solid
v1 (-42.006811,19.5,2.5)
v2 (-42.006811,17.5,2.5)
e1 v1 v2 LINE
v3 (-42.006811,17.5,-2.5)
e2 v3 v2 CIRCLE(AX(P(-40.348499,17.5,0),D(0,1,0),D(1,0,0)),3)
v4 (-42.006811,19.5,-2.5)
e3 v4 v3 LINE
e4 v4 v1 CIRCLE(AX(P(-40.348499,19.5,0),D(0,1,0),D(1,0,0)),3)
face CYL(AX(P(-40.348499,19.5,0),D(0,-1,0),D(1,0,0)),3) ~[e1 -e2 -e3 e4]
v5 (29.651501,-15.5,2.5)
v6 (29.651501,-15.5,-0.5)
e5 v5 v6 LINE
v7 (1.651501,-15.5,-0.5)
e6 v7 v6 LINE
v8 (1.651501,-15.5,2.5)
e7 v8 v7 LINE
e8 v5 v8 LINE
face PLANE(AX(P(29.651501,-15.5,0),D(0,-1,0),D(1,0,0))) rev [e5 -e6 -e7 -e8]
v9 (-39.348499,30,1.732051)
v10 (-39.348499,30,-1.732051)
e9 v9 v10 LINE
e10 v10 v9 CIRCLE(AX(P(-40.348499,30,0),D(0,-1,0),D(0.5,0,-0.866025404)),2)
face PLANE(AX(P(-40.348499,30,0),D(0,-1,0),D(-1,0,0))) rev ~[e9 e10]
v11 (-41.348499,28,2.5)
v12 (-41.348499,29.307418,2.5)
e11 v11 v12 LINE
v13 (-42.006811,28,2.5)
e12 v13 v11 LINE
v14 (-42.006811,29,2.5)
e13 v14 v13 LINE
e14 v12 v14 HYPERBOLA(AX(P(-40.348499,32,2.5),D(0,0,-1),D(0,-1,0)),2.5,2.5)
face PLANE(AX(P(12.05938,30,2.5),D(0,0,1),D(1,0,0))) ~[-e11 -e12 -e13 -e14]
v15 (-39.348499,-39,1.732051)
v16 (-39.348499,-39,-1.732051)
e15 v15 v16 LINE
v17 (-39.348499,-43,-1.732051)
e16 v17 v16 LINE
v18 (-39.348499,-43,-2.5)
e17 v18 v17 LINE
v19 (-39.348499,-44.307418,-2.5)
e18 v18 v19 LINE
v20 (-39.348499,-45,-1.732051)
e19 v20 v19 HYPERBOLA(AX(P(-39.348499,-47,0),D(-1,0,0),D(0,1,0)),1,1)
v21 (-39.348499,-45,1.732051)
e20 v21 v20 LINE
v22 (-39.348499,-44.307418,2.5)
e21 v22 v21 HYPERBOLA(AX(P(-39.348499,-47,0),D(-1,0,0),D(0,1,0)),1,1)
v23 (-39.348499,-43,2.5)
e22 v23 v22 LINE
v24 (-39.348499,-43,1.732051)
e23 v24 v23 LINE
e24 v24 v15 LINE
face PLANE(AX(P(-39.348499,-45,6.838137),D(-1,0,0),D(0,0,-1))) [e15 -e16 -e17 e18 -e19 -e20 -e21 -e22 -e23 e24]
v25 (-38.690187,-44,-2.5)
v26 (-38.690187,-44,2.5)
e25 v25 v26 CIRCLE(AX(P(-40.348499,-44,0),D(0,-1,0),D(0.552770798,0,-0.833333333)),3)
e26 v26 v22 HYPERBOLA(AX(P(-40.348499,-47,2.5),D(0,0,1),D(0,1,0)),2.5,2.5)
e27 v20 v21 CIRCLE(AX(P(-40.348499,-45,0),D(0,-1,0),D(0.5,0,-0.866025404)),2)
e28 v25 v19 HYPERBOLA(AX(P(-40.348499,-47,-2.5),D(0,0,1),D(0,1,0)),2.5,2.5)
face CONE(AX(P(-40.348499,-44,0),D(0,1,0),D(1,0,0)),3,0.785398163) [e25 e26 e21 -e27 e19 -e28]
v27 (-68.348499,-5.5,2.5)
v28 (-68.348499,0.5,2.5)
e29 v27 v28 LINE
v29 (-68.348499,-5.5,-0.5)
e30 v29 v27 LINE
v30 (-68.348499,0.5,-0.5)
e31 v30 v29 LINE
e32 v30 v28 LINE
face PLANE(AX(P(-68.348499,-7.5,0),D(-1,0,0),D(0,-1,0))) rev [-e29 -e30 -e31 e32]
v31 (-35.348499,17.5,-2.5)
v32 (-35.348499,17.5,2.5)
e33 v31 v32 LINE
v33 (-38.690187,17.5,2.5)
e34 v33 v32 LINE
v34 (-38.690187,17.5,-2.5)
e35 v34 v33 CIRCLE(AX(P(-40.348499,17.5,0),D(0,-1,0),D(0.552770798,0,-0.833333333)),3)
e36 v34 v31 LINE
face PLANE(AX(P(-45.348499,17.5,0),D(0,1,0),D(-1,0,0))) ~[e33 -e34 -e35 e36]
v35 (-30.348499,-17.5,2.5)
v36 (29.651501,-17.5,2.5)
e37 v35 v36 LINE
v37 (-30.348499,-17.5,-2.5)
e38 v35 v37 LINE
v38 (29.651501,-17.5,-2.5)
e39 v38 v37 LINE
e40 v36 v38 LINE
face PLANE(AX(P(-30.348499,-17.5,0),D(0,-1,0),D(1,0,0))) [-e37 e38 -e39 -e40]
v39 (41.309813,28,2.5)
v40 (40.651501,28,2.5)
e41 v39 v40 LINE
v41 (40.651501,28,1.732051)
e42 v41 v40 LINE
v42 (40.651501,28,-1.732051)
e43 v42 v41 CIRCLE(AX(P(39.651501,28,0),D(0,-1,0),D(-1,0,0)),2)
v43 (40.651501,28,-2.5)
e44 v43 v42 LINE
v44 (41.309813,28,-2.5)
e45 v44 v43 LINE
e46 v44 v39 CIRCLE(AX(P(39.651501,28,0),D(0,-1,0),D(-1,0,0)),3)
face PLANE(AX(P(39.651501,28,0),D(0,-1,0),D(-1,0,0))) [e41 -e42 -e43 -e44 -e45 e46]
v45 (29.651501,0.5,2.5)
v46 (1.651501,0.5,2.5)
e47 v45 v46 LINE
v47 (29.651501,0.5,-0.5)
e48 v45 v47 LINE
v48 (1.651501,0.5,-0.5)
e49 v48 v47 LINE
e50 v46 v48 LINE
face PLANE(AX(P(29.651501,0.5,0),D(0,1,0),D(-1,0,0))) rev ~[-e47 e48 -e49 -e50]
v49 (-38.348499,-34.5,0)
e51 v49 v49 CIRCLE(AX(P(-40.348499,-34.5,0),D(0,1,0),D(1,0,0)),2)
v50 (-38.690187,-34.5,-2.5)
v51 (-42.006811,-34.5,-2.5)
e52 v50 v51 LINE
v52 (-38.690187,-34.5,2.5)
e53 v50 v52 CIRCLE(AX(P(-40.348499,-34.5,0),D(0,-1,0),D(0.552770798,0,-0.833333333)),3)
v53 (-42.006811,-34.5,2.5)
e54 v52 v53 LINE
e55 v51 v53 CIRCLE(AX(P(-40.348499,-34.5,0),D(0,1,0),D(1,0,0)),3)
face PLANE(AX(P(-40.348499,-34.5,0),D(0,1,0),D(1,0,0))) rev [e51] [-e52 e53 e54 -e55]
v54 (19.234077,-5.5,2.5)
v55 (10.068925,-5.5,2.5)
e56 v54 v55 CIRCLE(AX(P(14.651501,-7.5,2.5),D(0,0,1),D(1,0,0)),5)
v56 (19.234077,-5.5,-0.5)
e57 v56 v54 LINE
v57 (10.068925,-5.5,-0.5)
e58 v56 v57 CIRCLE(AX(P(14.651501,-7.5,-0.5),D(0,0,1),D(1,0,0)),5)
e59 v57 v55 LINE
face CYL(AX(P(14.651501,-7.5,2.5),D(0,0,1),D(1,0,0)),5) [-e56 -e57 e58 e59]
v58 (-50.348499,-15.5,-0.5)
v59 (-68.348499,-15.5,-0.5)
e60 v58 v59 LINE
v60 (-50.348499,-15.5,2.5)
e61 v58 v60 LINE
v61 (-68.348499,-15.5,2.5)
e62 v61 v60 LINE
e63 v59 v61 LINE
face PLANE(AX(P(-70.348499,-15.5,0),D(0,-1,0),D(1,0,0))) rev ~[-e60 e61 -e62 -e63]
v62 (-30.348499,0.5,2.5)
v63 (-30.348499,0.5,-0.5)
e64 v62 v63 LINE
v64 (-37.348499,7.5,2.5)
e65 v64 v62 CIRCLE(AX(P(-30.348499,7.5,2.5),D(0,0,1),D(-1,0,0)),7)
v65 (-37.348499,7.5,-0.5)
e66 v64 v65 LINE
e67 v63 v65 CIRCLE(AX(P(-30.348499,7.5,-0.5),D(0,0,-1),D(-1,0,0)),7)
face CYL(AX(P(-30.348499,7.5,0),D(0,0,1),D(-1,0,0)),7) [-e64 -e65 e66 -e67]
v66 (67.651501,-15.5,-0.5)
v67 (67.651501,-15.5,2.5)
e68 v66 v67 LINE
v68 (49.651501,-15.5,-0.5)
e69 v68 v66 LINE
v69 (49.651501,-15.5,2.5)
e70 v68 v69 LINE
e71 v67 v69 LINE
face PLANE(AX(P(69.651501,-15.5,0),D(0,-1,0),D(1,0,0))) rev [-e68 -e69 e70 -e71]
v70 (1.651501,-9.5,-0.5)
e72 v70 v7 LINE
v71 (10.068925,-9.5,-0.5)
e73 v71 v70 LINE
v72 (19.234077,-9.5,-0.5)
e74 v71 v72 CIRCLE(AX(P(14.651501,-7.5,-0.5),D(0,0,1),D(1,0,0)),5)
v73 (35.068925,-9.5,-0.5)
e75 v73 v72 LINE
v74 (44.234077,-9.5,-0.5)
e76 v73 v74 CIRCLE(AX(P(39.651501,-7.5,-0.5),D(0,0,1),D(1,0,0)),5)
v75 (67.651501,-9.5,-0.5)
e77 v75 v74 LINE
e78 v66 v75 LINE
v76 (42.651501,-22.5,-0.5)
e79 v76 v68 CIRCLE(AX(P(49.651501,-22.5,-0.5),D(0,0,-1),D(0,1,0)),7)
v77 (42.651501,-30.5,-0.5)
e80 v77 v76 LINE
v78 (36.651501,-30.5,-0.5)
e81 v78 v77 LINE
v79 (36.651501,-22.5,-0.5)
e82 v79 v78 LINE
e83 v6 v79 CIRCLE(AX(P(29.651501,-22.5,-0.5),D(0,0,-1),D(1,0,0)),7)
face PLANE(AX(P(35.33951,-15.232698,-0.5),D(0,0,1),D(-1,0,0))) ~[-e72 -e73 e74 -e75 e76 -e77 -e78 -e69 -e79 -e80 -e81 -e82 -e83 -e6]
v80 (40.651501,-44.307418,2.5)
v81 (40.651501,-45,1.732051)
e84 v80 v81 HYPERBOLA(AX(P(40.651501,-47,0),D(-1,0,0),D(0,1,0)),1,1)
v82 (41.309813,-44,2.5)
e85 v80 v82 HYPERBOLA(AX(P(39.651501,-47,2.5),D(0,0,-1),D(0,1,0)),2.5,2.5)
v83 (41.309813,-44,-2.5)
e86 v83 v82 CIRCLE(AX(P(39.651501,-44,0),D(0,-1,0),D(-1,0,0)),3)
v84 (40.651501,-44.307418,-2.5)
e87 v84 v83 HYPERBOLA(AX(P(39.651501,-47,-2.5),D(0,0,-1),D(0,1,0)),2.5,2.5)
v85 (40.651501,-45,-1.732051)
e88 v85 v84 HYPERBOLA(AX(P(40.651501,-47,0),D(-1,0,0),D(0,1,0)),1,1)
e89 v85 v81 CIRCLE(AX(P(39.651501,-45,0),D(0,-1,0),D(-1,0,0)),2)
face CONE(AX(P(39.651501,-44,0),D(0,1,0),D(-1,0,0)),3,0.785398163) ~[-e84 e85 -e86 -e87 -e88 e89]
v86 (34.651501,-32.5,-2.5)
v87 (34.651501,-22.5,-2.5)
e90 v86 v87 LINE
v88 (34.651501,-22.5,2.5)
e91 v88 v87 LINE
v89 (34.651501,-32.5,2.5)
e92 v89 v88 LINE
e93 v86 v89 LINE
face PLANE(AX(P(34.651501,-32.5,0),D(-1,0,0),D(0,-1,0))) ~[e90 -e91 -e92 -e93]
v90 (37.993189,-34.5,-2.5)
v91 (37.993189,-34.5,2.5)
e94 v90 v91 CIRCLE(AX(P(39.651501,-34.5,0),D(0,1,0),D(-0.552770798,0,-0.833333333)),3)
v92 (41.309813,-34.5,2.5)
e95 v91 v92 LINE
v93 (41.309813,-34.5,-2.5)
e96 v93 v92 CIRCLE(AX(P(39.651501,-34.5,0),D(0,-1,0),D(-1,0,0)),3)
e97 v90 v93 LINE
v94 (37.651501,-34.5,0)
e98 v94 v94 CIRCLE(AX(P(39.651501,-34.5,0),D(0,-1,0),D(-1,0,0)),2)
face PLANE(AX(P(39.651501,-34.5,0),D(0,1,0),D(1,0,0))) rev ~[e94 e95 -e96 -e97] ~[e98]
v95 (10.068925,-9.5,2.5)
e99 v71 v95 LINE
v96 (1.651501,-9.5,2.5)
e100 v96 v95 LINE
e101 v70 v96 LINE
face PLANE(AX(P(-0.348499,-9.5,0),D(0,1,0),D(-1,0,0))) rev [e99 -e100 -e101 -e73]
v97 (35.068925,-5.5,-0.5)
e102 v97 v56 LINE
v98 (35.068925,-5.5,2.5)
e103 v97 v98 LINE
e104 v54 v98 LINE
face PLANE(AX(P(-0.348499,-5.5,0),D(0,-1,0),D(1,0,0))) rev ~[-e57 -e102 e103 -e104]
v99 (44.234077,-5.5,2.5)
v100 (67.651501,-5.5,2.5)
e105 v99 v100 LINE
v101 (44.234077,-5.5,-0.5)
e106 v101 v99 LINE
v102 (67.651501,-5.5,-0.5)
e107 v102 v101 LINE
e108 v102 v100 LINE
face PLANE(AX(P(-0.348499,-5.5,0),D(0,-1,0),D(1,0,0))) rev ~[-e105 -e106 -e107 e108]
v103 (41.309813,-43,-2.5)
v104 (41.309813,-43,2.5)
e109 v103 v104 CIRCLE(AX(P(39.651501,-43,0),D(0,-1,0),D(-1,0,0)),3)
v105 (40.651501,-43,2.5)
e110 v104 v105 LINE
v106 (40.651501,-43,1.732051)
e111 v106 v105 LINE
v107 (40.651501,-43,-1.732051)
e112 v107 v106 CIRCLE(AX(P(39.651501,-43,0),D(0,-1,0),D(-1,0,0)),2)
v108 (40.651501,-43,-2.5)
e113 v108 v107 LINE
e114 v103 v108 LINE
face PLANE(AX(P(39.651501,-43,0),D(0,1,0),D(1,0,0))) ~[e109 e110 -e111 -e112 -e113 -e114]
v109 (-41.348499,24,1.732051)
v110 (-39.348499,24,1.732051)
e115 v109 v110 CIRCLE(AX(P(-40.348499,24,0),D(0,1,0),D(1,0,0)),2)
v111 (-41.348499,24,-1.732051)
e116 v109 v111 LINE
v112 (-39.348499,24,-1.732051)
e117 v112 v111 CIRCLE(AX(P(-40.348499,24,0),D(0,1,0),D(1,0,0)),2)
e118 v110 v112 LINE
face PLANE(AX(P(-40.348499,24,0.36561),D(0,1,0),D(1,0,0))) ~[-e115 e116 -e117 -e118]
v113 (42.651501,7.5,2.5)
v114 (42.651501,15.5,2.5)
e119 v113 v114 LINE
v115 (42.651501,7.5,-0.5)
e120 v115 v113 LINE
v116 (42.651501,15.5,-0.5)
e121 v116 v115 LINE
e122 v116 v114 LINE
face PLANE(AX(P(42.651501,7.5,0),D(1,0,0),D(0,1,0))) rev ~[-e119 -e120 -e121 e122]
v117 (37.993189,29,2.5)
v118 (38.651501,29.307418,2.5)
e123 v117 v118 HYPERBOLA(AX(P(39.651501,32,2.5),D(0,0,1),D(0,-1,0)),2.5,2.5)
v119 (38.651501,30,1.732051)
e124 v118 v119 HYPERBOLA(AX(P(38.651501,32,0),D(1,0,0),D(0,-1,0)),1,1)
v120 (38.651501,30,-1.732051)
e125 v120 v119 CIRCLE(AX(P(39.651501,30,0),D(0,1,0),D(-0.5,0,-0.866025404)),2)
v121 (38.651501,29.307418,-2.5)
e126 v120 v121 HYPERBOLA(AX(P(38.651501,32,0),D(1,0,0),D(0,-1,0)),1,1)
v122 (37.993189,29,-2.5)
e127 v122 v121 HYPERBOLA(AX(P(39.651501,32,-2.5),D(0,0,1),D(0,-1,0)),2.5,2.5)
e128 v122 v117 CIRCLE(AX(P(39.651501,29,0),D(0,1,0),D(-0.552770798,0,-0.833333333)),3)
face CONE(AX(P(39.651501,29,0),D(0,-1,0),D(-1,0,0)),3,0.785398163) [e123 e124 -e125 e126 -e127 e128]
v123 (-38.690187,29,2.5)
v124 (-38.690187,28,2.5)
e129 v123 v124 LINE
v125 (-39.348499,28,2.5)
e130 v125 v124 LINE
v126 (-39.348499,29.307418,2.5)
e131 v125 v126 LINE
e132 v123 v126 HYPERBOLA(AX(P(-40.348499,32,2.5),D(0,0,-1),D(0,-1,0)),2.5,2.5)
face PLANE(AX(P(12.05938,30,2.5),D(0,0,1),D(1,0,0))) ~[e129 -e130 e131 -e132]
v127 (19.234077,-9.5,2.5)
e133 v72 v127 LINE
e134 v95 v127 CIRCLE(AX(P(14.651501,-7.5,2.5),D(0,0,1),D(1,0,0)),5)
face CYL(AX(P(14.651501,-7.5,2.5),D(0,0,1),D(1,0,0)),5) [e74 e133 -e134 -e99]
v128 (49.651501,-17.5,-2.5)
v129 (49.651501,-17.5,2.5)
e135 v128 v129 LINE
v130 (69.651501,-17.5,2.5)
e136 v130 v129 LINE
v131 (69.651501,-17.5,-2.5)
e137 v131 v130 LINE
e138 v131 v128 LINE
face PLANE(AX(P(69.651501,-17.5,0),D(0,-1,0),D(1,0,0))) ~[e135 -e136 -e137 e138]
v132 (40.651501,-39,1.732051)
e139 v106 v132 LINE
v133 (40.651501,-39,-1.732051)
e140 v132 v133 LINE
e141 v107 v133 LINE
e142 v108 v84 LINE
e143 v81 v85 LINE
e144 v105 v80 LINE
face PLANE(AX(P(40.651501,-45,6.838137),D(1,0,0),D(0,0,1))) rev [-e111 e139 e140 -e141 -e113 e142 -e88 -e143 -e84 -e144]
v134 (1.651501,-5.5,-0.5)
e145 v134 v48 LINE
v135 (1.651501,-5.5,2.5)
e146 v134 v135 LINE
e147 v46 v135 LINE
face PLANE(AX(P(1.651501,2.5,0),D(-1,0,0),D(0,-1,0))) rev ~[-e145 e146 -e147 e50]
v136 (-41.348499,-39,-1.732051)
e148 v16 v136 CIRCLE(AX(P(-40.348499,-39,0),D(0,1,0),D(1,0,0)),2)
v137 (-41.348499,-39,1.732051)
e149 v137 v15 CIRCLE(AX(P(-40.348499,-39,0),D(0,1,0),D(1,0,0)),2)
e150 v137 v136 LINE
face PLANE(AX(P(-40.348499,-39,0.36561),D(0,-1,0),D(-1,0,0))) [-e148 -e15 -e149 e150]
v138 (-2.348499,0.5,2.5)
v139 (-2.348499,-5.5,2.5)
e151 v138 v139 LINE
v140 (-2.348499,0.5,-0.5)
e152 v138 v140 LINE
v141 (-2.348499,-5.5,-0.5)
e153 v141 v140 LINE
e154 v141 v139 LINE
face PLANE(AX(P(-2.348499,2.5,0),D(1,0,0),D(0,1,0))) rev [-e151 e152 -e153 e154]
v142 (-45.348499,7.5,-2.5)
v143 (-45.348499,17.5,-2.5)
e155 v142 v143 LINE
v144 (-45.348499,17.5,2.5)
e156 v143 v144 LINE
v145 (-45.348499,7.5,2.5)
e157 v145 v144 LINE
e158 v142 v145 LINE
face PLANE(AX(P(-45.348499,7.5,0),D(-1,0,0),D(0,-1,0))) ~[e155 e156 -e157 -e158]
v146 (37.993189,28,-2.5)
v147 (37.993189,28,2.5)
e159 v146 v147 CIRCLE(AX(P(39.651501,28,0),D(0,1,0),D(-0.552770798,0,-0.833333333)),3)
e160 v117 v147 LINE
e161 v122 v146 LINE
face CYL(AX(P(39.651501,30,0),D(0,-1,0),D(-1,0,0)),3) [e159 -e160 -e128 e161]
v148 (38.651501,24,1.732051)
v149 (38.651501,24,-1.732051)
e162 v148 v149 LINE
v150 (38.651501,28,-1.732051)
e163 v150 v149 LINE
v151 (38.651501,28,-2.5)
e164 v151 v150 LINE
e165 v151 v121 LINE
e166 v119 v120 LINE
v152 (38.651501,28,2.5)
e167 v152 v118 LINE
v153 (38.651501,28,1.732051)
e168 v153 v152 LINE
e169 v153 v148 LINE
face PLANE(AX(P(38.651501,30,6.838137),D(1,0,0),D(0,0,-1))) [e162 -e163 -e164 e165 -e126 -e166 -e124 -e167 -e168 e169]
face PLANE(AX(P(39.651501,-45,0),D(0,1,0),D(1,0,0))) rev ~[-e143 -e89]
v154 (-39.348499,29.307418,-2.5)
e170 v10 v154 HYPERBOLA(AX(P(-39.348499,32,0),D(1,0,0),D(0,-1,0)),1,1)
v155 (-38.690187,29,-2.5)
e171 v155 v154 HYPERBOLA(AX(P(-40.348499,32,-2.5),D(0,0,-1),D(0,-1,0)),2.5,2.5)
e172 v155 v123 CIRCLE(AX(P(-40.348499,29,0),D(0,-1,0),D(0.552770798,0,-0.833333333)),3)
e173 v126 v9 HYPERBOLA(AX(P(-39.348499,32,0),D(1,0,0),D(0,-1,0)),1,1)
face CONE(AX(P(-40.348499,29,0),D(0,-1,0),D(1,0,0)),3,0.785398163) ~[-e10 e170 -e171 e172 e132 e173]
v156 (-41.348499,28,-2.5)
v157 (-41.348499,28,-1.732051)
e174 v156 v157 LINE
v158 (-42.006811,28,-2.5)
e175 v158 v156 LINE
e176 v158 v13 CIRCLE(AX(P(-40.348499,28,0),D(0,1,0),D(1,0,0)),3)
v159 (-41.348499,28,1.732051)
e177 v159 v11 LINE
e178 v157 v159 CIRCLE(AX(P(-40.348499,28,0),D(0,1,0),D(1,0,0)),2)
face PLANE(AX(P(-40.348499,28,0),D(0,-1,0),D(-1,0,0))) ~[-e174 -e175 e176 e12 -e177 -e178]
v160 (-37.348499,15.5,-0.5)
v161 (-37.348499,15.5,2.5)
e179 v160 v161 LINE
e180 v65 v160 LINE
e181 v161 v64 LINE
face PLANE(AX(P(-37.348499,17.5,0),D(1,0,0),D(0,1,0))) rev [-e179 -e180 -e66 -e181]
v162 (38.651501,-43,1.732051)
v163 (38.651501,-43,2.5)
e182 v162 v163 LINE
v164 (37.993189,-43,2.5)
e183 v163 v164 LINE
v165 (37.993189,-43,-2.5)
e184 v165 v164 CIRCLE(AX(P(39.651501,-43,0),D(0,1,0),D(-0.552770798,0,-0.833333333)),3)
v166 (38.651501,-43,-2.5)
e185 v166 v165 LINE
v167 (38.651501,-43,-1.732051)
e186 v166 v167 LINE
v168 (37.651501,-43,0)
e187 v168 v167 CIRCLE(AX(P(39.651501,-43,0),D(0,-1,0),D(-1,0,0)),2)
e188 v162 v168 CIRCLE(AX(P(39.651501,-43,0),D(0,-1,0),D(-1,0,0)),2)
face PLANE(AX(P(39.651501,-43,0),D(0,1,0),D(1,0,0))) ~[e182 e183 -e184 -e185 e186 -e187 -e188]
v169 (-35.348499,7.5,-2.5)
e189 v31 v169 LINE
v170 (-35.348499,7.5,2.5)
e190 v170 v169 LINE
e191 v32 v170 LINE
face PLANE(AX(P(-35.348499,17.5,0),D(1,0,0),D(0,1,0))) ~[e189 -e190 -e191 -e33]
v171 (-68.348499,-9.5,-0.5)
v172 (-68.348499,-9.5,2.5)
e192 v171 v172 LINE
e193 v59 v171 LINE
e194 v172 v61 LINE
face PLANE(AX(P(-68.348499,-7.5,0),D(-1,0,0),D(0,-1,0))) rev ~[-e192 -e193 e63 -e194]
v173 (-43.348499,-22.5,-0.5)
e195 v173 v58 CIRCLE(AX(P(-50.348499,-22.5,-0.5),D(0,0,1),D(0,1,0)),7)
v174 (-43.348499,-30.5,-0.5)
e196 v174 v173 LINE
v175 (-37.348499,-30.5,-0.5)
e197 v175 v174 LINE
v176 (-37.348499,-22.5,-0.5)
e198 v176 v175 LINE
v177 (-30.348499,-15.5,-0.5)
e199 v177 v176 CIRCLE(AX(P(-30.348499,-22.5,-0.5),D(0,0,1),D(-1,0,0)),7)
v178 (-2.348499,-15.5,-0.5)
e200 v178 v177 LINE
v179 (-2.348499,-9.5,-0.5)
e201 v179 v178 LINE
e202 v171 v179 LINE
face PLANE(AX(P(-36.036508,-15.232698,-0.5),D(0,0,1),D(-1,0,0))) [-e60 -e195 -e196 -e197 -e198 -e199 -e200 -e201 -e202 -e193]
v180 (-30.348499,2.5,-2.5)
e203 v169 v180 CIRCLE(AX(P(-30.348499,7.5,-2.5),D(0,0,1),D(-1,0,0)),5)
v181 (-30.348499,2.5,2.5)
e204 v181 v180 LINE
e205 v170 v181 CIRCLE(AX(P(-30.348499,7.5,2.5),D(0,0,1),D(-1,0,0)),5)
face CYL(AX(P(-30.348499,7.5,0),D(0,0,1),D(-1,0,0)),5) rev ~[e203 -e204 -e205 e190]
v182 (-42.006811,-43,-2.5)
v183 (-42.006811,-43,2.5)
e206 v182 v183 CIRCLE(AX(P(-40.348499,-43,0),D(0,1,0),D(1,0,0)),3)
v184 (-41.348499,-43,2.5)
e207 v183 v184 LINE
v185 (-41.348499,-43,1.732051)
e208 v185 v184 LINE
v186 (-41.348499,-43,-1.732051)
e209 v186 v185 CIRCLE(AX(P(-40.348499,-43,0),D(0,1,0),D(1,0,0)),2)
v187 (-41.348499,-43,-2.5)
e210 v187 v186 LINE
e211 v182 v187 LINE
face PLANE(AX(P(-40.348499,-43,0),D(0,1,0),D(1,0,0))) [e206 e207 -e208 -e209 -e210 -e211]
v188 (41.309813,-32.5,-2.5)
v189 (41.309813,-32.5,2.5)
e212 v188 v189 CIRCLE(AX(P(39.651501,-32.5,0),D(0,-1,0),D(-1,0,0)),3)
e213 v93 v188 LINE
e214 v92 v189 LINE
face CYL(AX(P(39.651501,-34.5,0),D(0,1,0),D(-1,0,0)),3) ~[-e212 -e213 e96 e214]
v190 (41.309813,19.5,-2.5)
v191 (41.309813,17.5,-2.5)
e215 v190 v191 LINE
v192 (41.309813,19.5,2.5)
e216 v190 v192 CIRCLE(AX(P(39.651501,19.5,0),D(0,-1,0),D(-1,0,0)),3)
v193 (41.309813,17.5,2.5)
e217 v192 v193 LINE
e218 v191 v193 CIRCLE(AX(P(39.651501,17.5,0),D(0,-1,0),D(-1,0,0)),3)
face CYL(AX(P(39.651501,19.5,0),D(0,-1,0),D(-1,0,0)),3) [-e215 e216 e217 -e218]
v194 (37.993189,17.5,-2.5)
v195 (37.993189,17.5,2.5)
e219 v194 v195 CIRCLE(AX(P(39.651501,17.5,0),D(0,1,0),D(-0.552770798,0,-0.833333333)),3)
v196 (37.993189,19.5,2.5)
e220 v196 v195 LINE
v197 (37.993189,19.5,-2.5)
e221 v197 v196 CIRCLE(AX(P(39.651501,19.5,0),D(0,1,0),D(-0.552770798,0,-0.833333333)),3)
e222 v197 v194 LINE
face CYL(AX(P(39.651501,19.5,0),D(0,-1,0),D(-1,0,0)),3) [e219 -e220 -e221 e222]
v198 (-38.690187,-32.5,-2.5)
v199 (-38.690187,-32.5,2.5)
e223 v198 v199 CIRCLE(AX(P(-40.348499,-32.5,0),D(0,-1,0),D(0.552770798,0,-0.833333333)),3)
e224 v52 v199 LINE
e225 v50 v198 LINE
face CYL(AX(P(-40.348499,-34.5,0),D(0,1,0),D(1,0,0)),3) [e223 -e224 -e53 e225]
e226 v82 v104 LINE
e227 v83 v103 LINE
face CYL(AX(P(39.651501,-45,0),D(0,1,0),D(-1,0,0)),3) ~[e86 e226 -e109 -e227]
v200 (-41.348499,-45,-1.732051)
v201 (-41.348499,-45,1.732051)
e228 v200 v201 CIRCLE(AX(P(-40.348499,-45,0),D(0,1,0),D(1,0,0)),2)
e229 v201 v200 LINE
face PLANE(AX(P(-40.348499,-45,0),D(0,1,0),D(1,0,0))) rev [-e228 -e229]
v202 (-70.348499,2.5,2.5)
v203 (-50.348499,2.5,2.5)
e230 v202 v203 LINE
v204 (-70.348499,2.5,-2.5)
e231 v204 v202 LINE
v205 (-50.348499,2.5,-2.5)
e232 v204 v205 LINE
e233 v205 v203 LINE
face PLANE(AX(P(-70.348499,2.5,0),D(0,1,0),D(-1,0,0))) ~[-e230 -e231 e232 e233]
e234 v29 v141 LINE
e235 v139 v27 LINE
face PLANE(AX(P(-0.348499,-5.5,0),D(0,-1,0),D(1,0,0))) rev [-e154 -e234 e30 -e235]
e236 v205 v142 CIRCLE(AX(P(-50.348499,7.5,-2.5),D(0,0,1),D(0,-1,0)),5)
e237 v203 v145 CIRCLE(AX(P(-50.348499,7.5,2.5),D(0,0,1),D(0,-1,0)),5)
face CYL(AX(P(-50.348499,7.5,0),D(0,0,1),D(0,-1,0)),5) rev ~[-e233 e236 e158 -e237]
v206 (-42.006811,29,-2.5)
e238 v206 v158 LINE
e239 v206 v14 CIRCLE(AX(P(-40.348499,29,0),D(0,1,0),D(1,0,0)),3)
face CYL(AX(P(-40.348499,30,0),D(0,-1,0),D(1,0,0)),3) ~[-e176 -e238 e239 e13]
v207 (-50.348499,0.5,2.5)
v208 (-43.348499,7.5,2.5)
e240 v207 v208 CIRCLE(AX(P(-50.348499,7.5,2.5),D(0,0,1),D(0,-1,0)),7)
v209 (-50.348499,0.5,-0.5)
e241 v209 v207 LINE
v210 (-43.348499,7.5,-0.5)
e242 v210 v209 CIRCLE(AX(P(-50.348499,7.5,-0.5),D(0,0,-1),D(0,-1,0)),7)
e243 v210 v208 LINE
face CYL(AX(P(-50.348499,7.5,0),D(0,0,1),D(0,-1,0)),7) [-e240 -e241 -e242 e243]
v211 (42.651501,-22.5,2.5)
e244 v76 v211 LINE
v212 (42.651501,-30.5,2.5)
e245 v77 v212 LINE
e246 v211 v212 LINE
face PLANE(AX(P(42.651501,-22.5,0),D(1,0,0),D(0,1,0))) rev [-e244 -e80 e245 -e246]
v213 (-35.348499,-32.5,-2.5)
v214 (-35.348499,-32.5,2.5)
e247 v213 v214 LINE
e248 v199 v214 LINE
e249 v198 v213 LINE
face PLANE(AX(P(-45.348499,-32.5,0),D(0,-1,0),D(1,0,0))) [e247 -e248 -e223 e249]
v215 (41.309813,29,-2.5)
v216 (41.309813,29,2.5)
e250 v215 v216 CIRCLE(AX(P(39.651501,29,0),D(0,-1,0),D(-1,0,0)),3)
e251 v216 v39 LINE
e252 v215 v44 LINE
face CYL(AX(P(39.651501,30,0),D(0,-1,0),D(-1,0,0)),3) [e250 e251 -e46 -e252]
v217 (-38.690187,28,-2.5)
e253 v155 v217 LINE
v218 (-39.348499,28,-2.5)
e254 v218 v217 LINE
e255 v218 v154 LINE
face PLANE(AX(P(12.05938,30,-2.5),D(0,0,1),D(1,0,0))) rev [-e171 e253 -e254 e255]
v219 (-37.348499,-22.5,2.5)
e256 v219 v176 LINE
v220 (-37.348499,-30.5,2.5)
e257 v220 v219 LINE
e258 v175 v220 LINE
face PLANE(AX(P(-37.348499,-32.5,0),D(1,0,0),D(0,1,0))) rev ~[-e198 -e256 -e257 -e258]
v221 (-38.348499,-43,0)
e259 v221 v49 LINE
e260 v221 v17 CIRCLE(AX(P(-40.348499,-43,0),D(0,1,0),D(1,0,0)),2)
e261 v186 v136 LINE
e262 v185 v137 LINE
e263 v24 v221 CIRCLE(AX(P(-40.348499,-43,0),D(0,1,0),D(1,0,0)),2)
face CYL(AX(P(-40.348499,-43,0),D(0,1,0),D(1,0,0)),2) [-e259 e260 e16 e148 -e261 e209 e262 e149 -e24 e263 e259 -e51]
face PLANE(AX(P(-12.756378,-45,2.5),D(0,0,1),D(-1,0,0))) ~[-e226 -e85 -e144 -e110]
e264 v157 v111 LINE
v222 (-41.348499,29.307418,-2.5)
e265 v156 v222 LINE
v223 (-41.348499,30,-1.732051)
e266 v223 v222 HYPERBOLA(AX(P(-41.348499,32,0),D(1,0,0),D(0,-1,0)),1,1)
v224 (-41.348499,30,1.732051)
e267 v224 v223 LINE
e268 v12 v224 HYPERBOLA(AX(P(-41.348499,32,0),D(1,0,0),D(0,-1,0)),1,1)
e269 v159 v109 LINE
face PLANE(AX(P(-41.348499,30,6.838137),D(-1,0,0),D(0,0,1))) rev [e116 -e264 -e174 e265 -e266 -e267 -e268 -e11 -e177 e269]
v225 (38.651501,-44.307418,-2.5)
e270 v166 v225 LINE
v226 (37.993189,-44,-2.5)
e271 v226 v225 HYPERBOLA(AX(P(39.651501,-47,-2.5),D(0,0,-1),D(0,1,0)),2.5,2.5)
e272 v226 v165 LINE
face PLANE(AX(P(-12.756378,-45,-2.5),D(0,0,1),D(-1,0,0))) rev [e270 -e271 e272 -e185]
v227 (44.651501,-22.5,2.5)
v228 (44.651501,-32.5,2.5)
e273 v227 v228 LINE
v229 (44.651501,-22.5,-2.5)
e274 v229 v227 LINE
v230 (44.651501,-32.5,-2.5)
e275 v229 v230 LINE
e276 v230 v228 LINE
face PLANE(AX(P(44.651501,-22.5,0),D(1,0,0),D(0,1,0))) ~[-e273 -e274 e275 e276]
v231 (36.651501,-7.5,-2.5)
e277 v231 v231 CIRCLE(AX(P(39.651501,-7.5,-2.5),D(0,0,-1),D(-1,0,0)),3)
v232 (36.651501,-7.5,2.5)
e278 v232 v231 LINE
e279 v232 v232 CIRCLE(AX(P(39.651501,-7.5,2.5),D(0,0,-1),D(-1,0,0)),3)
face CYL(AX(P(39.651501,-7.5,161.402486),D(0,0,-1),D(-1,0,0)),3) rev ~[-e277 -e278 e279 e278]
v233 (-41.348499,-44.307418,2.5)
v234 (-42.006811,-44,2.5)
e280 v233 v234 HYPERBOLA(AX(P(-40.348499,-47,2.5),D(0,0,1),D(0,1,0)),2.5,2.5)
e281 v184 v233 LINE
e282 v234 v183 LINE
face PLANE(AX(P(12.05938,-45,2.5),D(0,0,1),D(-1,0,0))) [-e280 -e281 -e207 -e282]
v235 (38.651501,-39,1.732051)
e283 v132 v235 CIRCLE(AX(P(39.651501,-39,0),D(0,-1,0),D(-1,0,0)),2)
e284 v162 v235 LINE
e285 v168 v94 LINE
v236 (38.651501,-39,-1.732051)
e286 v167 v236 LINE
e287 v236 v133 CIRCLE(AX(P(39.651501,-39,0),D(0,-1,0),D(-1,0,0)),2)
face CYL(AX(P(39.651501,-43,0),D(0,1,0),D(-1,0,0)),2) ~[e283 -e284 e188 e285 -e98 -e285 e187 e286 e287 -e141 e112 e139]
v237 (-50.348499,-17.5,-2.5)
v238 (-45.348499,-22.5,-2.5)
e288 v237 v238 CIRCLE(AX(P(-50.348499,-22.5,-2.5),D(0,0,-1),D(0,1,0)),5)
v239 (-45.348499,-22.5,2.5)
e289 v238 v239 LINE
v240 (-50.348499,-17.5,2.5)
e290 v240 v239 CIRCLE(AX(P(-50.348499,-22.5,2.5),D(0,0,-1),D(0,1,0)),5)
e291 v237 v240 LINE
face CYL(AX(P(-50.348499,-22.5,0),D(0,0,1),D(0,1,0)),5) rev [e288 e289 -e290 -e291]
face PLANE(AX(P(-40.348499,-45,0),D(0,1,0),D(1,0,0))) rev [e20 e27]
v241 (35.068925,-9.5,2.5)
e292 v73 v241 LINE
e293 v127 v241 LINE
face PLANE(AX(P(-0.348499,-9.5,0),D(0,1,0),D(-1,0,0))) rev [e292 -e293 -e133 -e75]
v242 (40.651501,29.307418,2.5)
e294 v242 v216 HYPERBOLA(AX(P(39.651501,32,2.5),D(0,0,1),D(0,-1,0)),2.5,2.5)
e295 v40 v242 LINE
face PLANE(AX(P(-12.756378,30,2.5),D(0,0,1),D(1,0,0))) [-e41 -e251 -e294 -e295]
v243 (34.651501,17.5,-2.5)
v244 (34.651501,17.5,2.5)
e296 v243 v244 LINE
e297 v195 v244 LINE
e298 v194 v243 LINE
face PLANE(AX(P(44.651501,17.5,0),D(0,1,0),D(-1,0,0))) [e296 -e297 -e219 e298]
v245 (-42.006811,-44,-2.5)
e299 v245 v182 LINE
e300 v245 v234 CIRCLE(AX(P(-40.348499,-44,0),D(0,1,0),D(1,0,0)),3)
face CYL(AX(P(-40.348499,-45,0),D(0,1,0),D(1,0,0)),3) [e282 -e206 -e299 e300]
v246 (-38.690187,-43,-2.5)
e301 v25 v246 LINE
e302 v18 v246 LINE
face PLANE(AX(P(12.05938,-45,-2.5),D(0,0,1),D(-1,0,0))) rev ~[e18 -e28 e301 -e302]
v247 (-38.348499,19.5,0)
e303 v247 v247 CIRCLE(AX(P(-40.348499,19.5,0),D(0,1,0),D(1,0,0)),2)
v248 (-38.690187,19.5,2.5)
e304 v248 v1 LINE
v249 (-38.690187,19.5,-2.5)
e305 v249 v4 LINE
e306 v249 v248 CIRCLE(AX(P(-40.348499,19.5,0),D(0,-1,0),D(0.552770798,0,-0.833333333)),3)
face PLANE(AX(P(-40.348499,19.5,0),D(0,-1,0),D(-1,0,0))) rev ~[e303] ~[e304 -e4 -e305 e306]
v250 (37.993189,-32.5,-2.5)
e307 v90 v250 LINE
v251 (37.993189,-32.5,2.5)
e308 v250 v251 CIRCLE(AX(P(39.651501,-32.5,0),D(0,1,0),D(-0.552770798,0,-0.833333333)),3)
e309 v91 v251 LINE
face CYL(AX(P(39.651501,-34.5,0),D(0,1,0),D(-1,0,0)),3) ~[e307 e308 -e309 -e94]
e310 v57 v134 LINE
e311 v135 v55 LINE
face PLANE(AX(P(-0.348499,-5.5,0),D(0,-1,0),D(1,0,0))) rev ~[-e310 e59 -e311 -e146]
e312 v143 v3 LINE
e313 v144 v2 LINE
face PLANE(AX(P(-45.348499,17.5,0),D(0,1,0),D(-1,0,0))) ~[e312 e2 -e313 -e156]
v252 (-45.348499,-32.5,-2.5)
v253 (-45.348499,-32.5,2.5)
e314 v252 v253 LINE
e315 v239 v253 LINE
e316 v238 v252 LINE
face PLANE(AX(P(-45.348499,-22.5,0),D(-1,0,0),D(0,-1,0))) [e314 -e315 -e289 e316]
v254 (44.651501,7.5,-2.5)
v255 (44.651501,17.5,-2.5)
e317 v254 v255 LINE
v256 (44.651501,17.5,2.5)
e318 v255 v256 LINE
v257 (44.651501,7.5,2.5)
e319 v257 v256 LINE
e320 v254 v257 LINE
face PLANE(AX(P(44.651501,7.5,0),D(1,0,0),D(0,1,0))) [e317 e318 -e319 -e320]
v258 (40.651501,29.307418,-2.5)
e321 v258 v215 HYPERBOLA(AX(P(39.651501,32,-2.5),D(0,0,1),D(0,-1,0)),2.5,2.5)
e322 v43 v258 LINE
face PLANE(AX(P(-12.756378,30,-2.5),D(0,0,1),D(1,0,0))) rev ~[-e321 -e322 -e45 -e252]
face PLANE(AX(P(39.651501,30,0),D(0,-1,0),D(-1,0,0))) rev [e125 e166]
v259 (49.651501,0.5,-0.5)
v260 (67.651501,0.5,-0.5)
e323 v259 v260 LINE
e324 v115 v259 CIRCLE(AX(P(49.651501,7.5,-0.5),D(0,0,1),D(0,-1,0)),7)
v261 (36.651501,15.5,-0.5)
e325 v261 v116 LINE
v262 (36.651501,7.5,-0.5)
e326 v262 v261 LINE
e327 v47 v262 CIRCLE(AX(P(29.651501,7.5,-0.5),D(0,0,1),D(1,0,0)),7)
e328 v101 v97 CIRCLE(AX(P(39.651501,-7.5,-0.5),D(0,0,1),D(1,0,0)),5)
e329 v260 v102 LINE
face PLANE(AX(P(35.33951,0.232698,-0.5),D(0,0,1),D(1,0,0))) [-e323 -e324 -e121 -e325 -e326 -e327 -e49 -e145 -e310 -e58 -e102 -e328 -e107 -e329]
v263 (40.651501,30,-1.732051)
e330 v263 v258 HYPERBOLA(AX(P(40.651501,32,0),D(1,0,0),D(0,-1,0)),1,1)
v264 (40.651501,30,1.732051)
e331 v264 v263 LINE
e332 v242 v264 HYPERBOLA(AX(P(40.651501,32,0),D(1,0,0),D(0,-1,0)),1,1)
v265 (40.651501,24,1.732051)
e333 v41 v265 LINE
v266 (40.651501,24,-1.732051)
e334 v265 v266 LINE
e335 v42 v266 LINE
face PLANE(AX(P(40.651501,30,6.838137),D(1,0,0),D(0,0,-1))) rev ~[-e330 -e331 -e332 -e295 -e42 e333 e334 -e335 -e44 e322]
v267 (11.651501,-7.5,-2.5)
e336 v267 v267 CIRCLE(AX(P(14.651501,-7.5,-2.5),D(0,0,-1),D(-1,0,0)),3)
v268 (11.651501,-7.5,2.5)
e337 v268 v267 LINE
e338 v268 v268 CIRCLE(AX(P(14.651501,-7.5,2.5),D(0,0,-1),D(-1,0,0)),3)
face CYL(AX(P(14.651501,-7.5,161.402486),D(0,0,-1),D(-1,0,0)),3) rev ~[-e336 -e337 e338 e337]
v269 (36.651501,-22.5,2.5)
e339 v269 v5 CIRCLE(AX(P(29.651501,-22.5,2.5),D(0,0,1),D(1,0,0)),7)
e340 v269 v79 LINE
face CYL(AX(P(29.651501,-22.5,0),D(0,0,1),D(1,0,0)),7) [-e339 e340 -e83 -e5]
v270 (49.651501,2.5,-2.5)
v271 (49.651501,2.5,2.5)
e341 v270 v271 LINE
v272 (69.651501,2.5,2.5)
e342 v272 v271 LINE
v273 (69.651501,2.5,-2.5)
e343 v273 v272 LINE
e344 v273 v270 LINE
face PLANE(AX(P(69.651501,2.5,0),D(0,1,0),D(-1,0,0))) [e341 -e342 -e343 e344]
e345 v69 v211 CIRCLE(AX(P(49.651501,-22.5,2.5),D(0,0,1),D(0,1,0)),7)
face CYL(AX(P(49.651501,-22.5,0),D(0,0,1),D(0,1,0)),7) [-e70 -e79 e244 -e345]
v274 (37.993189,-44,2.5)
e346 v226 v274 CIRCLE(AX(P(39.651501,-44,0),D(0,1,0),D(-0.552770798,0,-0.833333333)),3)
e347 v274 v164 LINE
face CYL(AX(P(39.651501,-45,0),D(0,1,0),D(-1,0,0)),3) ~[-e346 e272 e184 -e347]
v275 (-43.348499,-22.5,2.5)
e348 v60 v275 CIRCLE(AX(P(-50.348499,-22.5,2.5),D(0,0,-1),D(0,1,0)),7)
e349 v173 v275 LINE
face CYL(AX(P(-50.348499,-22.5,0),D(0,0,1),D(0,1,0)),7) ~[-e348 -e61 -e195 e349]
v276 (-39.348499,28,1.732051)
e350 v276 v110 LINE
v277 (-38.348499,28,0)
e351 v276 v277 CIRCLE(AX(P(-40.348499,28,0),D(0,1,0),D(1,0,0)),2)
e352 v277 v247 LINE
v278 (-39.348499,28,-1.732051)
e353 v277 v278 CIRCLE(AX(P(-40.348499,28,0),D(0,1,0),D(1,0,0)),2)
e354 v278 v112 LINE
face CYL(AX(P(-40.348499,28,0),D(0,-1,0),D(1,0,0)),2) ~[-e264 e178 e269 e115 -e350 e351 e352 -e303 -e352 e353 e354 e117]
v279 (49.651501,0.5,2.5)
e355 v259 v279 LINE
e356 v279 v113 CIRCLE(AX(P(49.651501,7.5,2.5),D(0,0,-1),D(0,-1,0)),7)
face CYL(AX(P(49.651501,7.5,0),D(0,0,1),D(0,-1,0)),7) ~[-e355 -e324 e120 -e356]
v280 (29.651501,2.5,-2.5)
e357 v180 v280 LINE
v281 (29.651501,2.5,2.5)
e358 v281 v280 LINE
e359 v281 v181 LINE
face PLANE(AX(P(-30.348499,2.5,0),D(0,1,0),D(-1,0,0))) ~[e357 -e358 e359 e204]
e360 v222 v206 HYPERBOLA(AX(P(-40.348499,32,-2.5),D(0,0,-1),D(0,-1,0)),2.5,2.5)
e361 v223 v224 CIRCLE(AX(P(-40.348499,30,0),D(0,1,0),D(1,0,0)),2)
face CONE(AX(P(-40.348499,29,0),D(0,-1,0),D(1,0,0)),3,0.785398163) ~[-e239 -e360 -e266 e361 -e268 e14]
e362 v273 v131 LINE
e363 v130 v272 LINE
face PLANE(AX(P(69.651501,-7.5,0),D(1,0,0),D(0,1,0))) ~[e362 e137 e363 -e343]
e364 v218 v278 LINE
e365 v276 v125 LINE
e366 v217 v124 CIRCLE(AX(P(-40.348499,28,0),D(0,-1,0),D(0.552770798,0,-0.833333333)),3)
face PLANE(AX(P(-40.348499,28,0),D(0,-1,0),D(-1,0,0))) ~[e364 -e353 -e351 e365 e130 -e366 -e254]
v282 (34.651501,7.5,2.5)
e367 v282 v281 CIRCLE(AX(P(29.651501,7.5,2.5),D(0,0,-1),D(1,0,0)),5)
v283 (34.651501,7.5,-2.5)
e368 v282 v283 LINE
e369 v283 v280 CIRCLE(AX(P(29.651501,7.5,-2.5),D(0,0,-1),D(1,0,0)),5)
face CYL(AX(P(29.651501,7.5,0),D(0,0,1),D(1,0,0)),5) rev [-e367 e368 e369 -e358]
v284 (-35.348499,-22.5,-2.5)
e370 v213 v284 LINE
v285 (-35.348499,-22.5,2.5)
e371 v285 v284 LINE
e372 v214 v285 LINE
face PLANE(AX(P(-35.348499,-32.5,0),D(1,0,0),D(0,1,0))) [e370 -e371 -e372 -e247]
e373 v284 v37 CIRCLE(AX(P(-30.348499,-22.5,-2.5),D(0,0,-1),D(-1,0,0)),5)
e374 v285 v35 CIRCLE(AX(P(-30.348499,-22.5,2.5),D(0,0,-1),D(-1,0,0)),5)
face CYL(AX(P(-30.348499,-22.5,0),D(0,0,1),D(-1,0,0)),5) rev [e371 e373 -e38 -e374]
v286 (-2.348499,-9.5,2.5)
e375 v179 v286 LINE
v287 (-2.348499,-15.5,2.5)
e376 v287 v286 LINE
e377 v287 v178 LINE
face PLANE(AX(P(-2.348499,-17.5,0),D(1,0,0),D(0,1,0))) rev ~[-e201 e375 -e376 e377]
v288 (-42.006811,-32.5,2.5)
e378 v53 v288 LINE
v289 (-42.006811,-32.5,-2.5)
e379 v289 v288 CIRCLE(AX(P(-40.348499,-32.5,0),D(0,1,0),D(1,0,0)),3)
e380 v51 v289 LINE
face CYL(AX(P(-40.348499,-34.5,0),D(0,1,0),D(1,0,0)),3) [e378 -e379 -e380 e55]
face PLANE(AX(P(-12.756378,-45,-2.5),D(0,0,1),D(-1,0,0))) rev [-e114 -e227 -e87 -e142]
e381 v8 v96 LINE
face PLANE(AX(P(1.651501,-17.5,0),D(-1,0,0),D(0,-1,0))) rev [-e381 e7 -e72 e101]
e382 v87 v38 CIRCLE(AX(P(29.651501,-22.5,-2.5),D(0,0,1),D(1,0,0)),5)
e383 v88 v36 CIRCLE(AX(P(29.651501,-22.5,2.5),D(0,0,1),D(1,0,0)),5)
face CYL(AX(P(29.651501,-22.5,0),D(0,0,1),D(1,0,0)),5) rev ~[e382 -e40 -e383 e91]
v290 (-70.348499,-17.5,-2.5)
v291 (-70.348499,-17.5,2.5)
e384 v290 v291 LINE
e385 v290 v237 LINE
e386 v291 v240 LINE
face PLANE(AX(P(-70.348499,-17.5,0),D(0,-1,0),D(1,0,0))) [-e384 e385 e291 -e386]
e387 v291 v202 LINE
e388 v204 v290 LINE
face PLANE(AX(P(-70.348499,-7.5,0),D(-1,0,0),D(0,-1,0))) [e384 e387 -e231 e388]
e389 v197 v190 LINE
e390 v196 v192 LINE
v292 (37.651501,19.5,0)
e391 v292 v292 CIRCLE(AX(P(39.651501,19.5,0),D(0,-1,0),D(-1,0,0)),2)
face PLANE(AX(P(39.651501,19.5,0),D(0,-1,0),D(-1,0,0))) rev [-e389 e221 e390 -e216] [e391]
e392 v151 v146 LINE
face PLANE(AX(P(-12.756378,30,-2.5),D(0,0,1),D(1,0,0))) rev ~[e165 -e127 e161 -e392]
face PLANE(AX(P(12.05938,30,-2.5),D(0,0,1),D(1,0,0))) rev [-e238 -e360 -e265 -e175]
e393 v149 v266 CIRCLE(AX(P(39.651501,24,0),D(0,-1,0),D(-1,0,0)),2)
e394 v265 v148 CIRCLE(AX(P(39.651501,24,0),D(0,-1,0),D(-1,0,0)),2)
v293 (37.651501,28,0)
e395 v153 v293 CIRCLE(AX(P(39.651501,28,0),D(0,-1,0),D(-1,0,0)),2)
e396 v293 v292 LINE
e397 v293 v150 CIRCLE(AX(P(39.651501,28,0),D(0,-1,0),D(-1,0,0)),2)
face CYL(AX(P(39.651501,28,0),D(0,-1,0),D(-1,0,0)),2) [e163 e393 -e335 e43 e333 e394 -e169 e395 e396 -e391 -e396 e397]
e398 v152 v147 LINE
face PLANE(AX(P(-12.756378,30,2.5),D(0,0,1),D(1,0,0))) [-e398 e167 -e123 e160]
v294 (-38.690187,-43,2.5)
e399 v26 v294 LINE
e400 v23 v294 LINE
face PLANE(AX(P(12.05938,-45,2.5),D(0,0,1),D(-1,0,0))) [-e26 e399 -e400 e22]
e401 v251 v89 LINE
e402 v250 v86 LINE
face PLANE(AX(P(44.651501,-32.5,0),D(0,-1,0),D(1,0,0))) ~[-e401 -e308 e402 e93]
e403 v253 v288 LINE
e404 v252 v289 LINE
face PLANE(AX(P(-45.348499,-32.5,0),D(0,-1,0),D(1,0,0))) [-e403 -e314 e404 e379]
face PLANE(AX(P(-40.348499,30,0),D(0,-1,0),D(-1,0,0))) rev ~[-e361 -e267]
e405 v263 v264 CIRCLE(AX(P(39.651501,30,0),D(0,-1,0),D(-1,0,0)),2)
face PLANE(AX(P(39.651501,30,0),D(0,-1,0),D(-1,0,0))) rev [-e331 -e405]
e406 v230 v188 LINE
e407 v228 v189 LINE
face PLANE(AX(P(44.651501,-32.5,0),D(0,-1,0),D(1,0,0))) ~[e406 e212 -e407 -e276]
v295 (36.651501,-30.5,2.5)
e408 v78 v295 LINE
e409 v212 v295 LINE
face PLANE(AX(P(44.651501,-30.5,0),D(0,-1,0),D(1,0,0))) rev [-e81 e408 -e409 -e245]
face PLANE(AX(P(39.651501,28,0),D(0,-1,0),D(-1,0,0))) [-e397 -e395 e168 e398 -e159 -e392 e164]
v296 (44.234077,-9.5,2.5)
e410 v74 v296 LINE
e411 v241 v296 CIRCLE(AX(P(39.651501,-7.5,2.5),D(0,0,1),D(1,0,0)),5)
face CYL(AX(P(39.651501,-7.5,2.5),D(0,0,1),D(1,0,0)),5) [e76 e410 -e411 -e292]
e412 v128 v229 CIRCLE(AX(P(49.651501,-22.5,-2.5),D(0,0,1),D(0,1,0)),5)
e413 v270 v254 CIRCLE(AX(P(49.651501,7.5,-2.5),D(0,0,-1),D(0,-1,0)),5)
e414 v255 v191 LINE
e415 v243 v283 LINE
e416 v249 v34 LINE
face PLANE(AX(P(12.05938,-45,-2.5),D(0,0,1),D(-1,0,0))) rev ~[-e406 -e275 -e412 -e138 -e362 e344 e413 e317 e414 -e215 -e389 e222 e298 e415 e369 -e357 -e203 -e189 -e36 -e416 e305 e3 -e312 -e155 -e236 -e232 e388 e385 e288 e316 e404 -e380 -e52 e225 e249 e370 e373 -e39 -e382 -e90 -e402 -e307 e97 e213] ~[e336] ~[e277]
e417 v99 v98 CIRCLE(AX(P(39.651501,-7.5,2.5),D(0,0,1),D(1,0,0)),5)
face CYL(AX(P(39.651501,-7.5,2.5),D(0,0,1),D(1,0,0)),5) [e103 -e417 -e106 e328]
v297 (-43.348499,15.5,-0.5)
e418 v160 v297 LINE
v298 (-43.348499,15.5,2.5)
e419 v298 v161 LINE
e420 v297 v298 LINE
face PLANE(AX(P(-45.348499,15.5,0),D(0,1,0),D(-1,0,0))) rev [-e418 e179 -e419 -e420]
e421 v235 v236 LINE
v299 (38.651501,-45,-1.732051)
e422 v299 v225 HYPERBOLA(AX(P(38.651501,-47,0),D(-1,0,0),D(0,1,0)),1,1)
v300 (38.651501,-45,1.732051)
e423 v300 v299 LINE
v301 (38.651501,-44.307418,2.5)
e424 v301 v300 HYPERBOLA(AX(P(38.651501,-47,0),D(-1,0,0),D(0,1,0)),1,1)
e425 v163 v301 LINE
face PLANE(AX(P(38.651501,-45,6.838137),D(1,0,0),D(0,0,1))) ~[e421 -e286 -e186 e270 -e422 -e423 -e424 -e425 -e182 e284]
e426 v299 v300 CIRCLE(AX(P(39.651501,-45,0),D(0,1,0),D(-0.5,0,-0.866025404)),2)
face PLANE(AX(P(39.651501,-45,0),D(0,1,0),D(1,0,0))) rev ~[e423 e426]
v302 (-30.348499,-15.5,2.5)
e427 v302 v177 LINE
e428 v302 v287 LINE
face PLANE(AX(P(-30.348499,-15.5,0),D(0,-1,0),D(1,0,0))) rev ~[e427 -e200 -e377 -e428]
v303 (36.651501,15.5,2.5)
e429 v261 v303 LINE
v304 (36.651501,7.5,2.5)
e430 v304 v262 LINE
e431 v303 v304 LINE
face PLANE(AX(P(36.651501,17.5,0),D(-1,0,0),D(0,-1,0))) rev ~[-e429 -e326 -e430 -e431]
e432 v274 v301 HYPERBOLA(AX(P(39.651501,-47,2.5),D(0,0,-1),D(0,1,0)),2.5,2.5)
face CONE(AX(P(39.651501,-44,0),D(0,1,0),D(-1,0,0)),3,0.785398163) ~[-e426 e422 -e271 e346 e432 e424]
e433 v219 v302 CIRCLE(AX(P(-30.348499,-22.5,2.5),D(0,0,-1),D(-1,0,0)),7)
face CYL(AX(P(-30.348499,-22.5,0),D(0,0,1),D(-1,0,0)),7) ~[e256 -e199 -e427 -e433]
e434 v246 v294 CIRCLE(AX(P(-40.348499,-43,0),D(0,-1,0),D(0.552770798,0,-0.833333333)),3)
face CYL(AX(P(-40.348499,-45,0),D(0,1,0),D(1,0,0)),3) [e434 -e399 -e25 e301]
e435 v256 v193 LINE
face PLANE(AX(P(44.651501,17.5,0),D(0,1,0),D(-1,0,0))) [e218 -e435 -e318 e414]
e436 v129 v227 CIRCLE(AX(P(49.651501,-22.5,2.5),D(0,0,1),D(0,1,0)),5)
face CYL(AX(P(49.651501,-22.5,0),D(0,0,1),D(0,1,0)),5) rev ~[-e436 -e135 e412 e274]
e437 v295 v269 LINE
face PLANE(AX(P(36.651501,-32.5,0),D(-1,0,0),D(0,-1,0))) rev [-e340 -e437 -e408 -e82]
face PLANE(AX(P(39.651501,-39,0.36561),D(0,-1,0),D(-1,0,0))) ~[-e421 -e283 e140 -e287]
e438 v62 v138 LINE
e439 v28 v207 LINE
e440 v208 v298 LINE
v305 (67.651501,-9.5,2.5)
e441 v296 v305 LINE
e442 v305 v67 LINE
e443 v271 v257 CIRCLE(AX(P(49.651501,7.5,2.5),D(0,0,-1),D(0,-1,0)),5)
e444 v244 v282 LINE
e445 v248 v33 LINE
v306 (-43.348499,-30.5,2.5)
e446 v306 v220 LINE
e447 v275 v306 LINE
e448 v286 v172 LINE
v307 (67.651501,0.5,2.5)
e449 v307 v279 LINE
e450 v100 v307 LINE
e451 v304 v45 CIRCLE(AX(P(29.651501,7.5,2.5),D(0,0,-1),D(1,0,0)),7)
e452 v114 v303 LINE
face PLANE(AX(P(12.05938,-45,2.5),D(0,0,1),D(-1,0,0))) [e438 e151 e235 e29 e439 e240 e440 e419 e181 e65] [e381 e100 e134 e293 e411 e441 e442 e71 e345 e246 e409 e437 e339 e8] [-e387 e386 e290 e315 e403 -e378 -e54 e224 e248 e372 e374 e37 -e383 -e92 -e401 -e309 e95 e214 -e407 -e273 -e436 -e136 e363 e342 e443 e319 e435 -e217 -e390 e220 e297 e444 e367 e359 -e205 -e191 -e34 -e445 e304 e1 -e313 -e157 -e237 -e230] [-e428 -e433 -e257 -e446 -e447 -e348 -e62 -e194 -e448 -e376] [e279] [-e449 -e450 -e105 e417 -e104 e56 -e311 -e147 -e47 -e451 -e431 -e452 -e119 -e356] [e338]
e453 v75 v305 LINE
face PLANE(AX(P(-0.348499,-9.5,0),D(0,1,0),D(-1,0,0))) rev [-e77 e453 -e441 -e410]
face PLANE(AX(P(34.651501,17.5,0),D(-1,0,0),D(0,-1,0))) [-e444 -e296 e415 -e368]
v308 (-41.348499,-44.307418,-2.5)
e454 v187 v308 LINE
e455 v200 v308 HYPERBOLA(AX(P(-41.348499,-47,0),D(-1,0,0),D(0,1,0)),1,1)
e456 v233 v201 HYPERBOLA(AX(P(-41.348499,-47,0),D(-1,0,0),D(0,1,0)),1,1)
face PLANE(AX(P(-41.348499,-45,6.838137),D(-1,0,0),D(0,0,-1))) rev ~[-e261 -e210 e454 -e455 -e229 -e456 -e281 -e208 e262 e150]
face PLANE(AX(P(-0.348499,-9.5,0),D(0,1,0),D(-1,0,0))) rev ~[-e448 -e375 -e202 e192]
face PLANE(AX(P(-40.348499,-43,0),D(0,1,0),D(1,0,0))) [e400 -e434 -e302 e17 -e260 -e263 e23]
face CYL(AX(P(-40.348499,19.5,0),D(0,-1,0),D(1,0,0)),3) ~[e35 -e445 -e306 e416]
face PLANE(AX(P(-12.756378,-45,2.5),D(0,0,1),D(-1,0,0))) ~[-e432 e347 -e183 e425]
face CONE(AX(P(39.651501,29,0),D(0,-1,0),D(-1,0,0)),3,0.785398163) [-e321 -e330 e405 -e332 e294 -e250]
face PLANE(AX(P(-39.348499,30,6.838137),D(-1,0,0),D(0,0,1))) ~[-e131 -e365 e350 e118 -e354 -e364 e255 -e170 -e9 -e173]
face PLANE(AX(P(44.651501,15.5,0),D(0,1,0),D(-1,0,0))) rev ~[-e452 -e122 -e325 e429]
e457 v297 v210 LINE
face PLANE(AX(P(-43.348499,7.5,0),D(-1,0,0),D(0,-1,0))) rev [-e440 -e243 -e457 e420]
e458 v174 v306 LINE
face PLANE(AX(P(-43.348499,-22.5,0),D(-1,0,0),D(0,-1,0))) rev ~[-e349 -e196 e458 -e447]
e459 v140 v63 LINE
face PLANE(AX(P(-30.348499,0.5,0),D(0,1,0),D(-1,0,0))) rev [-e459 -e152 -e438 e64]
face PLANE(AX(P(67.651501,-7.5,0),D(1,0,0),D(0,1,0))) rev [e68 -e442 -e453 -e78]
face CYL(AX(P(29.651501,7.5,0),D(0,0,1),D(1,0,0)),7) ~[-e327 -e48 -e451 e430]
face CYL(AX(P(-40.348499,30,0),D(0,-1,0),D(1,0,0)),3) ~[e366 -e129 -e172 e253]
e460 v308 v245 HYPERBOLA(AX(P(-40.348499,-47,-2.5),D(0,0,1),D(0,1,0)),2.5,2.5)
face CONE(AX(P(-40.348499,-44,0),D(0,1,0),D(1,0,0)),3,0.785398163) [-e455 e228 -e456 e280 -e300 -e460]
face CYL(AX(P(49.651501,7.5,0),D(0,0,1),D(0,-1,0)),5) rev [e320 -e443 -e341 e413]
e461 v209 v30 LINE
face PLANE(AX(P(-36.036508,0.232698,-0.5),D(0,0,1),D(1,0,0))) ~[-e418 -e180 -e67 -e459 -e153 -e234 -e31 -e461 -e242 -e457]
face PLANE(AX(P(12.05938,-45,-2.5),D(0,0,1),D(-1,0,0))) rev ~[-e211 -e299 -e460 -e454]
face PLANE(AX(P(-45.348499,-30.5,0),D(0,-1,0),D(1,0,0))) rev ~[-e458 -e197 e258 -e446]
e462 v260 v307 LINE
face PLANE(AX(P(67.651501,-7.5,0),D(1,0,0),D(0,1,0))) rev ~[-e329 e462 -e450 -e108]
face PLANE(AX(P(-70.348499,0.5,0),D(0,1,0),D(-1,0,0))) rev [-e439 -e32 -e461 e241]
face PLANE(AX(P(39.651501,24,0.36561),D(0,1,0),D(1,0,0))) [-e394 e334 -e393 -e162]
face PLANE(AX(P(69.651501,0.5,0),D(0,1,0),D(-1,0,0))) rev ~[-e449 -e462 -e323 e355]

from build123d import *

# Parameters (mm, degrees)
F1_DEPTH  = 2.5
F2_T      = -2
F5_SIZE   = 1
F6_W      = 101.6216283701
F6_H      = 5
F7_DEPTH  = 37.501
F8_W      = 2
F8_H      = 12.9450548419
F9_DEPTH  = 6
F12_R     = 5
F13_DEPTH = 5
F15_D     = 6
F19_ANGLE = 90
F21_ANGLE = 180


with BuildPart() as f1:
    # F0 (on Front) → F1 (new body, symmetric)
    with BuildSketch(Plane.XZ):
        with BuildLine():
            Line((-42.8484990943, 10), (-42.8484990943, 0))
            Line((-42.8484990943, 0), (27.1515009057, 0))
            Line((27.1515009057, 0), (27.1515009057, 10))
            Line((27.1515009057, 10), (7.1515009057, 10))
            ThreePointArc((7.1515009057, 10), (3.6159669998, 11.4644660941), (2.1515009057, 15))
            Line((2.1515009057, 15), (2.1515009057, 25))
            Line((2.1515009057, 25), (-7.8484990943, 25))
            Line((-7.8484990943, 25), (-7.8484990943, 15))
            ThreePointArc((-7.8484990943, 15), (-9.3129651884, 11.4644660941), (-12.8484990943, 10))
            Line((-12.8484990943, 10), (-42.8484990943, 10))
        make_face()
    extrude(amount=F1_DEPTH, both=True)

    # F2
    f2_openings = [f1.faces().sort_by_distance(p)[0] for p in [
        (-6.914814, -2.5, 7.254637),
    ]]
    offset(amount=F2_T, openings=f2_openings)

    # F3 (on Front) → F4 (revolve)
    with BuildSketch(Plane.XZ):
        Polygon((-2.8484990943, 37.5), (-5.8484990943, 37.5), (-5.8484990943, 35.5), (-4.8484990943, 35.5), (-4.8484990943, 27), (-5.8484990943, 27), (-5.8484990943, 25), (-2.8484990943, 25), align=None)
    revolve(axis=Axis((-2.8484990943, 0, 31.25), (0, 0, -1)))

    # F5
    f5_edges = [f1.edges().sort_by_distance(p)[0] for p in [
        (0.151501, 0, 37.5),
    ]]
    chamfer(f5_edges, length=F5_SIZE)

    # F6 (on face) → F7 (intersect, through all)
    with BuildSketch(Plane.XY.offset(37.5)):
        with Locations((-4.4455640018, 0)):
            Rectangle(F6_W, F6_H)
    extrude(amount=-F7_DEPTH, mode=Mode.INTERSECT)

    # F8 (on face) → F9 (cut)
    with BuildSketch(Plane.XY.offset(37.5)):
        with Locations((-2.8484990943, -0.3656100016)):
            Rectangle(F8_W, F8_H)
    extrude(amount=-F9_DEPTH, mode=Mode.SUBTRACT)

    # F10: F1 across plane


with BuildPart() as f1_1:
    add(f1.part)
    add(f1.part.mirror(Plane.XY))

    # F11: F1 across face


with BuildPart() as f1_2:
    add(f1_1.part)
    add(f1_1.part.mirror(Plane(origin=(-42.8484990943, 0, 0), x_dir=(0, -1, 0), z_dir=(-1, 0, 0))))

    # F12 (on face) → F13 (join, through all)
    with BuildSketch(Plane.XZ.offset(2.5)):
        with Locations((-2.8484990943, 0)):
            Circle(F12_R)
        with Locations((-27.8484990943, 0)):
            Circle(F12_R)
    extrude(amount=-F13_DEPTH)

    # F15 (through all)
    with Locations(Plane.XZ.offset(2.5)):
        with Locations((-27.8484990943, 0), (-2.8484990943, 0)):
            Hole(F15_D / 2)


with BuildPart() as f1_3:
    # F16: moved
    add(f1_2.part.moved(Location((40, 0, 0))))


with BuildPart() as f1_4:
    # F17: moved
    add(f1_3.part.moved(Location((5, 0, 0))))


with BuildPart() as f1_5:
    # F18: moved
    add(f1_4.part.moved(Location((-2.5, 0, 0))))


with BuildPart() as f1_6:
    # F19: moved
    add(f1_5.part.rotate(Axis((59.6515009057, 2.5, 10), (1, 0, 0)), F19_ANGLE))


with BuildPart() as f1_7:
    # F20: moved
    add(f1_6.part.moved(Location((0, 0, -7.5))))


with BuildPart() as f1_8:
    # F21: moved
    add(f1_7.part.rotate(Axis((-60.3484990943, 2.5, -2.5), (-1, 0, 0)), F21_ANGLE))


with BuildPart() as f1_9:
    # F22: moved
    add(f1_8.part.moved(Location((0, 0, 5))))


solid = f1_9.part
